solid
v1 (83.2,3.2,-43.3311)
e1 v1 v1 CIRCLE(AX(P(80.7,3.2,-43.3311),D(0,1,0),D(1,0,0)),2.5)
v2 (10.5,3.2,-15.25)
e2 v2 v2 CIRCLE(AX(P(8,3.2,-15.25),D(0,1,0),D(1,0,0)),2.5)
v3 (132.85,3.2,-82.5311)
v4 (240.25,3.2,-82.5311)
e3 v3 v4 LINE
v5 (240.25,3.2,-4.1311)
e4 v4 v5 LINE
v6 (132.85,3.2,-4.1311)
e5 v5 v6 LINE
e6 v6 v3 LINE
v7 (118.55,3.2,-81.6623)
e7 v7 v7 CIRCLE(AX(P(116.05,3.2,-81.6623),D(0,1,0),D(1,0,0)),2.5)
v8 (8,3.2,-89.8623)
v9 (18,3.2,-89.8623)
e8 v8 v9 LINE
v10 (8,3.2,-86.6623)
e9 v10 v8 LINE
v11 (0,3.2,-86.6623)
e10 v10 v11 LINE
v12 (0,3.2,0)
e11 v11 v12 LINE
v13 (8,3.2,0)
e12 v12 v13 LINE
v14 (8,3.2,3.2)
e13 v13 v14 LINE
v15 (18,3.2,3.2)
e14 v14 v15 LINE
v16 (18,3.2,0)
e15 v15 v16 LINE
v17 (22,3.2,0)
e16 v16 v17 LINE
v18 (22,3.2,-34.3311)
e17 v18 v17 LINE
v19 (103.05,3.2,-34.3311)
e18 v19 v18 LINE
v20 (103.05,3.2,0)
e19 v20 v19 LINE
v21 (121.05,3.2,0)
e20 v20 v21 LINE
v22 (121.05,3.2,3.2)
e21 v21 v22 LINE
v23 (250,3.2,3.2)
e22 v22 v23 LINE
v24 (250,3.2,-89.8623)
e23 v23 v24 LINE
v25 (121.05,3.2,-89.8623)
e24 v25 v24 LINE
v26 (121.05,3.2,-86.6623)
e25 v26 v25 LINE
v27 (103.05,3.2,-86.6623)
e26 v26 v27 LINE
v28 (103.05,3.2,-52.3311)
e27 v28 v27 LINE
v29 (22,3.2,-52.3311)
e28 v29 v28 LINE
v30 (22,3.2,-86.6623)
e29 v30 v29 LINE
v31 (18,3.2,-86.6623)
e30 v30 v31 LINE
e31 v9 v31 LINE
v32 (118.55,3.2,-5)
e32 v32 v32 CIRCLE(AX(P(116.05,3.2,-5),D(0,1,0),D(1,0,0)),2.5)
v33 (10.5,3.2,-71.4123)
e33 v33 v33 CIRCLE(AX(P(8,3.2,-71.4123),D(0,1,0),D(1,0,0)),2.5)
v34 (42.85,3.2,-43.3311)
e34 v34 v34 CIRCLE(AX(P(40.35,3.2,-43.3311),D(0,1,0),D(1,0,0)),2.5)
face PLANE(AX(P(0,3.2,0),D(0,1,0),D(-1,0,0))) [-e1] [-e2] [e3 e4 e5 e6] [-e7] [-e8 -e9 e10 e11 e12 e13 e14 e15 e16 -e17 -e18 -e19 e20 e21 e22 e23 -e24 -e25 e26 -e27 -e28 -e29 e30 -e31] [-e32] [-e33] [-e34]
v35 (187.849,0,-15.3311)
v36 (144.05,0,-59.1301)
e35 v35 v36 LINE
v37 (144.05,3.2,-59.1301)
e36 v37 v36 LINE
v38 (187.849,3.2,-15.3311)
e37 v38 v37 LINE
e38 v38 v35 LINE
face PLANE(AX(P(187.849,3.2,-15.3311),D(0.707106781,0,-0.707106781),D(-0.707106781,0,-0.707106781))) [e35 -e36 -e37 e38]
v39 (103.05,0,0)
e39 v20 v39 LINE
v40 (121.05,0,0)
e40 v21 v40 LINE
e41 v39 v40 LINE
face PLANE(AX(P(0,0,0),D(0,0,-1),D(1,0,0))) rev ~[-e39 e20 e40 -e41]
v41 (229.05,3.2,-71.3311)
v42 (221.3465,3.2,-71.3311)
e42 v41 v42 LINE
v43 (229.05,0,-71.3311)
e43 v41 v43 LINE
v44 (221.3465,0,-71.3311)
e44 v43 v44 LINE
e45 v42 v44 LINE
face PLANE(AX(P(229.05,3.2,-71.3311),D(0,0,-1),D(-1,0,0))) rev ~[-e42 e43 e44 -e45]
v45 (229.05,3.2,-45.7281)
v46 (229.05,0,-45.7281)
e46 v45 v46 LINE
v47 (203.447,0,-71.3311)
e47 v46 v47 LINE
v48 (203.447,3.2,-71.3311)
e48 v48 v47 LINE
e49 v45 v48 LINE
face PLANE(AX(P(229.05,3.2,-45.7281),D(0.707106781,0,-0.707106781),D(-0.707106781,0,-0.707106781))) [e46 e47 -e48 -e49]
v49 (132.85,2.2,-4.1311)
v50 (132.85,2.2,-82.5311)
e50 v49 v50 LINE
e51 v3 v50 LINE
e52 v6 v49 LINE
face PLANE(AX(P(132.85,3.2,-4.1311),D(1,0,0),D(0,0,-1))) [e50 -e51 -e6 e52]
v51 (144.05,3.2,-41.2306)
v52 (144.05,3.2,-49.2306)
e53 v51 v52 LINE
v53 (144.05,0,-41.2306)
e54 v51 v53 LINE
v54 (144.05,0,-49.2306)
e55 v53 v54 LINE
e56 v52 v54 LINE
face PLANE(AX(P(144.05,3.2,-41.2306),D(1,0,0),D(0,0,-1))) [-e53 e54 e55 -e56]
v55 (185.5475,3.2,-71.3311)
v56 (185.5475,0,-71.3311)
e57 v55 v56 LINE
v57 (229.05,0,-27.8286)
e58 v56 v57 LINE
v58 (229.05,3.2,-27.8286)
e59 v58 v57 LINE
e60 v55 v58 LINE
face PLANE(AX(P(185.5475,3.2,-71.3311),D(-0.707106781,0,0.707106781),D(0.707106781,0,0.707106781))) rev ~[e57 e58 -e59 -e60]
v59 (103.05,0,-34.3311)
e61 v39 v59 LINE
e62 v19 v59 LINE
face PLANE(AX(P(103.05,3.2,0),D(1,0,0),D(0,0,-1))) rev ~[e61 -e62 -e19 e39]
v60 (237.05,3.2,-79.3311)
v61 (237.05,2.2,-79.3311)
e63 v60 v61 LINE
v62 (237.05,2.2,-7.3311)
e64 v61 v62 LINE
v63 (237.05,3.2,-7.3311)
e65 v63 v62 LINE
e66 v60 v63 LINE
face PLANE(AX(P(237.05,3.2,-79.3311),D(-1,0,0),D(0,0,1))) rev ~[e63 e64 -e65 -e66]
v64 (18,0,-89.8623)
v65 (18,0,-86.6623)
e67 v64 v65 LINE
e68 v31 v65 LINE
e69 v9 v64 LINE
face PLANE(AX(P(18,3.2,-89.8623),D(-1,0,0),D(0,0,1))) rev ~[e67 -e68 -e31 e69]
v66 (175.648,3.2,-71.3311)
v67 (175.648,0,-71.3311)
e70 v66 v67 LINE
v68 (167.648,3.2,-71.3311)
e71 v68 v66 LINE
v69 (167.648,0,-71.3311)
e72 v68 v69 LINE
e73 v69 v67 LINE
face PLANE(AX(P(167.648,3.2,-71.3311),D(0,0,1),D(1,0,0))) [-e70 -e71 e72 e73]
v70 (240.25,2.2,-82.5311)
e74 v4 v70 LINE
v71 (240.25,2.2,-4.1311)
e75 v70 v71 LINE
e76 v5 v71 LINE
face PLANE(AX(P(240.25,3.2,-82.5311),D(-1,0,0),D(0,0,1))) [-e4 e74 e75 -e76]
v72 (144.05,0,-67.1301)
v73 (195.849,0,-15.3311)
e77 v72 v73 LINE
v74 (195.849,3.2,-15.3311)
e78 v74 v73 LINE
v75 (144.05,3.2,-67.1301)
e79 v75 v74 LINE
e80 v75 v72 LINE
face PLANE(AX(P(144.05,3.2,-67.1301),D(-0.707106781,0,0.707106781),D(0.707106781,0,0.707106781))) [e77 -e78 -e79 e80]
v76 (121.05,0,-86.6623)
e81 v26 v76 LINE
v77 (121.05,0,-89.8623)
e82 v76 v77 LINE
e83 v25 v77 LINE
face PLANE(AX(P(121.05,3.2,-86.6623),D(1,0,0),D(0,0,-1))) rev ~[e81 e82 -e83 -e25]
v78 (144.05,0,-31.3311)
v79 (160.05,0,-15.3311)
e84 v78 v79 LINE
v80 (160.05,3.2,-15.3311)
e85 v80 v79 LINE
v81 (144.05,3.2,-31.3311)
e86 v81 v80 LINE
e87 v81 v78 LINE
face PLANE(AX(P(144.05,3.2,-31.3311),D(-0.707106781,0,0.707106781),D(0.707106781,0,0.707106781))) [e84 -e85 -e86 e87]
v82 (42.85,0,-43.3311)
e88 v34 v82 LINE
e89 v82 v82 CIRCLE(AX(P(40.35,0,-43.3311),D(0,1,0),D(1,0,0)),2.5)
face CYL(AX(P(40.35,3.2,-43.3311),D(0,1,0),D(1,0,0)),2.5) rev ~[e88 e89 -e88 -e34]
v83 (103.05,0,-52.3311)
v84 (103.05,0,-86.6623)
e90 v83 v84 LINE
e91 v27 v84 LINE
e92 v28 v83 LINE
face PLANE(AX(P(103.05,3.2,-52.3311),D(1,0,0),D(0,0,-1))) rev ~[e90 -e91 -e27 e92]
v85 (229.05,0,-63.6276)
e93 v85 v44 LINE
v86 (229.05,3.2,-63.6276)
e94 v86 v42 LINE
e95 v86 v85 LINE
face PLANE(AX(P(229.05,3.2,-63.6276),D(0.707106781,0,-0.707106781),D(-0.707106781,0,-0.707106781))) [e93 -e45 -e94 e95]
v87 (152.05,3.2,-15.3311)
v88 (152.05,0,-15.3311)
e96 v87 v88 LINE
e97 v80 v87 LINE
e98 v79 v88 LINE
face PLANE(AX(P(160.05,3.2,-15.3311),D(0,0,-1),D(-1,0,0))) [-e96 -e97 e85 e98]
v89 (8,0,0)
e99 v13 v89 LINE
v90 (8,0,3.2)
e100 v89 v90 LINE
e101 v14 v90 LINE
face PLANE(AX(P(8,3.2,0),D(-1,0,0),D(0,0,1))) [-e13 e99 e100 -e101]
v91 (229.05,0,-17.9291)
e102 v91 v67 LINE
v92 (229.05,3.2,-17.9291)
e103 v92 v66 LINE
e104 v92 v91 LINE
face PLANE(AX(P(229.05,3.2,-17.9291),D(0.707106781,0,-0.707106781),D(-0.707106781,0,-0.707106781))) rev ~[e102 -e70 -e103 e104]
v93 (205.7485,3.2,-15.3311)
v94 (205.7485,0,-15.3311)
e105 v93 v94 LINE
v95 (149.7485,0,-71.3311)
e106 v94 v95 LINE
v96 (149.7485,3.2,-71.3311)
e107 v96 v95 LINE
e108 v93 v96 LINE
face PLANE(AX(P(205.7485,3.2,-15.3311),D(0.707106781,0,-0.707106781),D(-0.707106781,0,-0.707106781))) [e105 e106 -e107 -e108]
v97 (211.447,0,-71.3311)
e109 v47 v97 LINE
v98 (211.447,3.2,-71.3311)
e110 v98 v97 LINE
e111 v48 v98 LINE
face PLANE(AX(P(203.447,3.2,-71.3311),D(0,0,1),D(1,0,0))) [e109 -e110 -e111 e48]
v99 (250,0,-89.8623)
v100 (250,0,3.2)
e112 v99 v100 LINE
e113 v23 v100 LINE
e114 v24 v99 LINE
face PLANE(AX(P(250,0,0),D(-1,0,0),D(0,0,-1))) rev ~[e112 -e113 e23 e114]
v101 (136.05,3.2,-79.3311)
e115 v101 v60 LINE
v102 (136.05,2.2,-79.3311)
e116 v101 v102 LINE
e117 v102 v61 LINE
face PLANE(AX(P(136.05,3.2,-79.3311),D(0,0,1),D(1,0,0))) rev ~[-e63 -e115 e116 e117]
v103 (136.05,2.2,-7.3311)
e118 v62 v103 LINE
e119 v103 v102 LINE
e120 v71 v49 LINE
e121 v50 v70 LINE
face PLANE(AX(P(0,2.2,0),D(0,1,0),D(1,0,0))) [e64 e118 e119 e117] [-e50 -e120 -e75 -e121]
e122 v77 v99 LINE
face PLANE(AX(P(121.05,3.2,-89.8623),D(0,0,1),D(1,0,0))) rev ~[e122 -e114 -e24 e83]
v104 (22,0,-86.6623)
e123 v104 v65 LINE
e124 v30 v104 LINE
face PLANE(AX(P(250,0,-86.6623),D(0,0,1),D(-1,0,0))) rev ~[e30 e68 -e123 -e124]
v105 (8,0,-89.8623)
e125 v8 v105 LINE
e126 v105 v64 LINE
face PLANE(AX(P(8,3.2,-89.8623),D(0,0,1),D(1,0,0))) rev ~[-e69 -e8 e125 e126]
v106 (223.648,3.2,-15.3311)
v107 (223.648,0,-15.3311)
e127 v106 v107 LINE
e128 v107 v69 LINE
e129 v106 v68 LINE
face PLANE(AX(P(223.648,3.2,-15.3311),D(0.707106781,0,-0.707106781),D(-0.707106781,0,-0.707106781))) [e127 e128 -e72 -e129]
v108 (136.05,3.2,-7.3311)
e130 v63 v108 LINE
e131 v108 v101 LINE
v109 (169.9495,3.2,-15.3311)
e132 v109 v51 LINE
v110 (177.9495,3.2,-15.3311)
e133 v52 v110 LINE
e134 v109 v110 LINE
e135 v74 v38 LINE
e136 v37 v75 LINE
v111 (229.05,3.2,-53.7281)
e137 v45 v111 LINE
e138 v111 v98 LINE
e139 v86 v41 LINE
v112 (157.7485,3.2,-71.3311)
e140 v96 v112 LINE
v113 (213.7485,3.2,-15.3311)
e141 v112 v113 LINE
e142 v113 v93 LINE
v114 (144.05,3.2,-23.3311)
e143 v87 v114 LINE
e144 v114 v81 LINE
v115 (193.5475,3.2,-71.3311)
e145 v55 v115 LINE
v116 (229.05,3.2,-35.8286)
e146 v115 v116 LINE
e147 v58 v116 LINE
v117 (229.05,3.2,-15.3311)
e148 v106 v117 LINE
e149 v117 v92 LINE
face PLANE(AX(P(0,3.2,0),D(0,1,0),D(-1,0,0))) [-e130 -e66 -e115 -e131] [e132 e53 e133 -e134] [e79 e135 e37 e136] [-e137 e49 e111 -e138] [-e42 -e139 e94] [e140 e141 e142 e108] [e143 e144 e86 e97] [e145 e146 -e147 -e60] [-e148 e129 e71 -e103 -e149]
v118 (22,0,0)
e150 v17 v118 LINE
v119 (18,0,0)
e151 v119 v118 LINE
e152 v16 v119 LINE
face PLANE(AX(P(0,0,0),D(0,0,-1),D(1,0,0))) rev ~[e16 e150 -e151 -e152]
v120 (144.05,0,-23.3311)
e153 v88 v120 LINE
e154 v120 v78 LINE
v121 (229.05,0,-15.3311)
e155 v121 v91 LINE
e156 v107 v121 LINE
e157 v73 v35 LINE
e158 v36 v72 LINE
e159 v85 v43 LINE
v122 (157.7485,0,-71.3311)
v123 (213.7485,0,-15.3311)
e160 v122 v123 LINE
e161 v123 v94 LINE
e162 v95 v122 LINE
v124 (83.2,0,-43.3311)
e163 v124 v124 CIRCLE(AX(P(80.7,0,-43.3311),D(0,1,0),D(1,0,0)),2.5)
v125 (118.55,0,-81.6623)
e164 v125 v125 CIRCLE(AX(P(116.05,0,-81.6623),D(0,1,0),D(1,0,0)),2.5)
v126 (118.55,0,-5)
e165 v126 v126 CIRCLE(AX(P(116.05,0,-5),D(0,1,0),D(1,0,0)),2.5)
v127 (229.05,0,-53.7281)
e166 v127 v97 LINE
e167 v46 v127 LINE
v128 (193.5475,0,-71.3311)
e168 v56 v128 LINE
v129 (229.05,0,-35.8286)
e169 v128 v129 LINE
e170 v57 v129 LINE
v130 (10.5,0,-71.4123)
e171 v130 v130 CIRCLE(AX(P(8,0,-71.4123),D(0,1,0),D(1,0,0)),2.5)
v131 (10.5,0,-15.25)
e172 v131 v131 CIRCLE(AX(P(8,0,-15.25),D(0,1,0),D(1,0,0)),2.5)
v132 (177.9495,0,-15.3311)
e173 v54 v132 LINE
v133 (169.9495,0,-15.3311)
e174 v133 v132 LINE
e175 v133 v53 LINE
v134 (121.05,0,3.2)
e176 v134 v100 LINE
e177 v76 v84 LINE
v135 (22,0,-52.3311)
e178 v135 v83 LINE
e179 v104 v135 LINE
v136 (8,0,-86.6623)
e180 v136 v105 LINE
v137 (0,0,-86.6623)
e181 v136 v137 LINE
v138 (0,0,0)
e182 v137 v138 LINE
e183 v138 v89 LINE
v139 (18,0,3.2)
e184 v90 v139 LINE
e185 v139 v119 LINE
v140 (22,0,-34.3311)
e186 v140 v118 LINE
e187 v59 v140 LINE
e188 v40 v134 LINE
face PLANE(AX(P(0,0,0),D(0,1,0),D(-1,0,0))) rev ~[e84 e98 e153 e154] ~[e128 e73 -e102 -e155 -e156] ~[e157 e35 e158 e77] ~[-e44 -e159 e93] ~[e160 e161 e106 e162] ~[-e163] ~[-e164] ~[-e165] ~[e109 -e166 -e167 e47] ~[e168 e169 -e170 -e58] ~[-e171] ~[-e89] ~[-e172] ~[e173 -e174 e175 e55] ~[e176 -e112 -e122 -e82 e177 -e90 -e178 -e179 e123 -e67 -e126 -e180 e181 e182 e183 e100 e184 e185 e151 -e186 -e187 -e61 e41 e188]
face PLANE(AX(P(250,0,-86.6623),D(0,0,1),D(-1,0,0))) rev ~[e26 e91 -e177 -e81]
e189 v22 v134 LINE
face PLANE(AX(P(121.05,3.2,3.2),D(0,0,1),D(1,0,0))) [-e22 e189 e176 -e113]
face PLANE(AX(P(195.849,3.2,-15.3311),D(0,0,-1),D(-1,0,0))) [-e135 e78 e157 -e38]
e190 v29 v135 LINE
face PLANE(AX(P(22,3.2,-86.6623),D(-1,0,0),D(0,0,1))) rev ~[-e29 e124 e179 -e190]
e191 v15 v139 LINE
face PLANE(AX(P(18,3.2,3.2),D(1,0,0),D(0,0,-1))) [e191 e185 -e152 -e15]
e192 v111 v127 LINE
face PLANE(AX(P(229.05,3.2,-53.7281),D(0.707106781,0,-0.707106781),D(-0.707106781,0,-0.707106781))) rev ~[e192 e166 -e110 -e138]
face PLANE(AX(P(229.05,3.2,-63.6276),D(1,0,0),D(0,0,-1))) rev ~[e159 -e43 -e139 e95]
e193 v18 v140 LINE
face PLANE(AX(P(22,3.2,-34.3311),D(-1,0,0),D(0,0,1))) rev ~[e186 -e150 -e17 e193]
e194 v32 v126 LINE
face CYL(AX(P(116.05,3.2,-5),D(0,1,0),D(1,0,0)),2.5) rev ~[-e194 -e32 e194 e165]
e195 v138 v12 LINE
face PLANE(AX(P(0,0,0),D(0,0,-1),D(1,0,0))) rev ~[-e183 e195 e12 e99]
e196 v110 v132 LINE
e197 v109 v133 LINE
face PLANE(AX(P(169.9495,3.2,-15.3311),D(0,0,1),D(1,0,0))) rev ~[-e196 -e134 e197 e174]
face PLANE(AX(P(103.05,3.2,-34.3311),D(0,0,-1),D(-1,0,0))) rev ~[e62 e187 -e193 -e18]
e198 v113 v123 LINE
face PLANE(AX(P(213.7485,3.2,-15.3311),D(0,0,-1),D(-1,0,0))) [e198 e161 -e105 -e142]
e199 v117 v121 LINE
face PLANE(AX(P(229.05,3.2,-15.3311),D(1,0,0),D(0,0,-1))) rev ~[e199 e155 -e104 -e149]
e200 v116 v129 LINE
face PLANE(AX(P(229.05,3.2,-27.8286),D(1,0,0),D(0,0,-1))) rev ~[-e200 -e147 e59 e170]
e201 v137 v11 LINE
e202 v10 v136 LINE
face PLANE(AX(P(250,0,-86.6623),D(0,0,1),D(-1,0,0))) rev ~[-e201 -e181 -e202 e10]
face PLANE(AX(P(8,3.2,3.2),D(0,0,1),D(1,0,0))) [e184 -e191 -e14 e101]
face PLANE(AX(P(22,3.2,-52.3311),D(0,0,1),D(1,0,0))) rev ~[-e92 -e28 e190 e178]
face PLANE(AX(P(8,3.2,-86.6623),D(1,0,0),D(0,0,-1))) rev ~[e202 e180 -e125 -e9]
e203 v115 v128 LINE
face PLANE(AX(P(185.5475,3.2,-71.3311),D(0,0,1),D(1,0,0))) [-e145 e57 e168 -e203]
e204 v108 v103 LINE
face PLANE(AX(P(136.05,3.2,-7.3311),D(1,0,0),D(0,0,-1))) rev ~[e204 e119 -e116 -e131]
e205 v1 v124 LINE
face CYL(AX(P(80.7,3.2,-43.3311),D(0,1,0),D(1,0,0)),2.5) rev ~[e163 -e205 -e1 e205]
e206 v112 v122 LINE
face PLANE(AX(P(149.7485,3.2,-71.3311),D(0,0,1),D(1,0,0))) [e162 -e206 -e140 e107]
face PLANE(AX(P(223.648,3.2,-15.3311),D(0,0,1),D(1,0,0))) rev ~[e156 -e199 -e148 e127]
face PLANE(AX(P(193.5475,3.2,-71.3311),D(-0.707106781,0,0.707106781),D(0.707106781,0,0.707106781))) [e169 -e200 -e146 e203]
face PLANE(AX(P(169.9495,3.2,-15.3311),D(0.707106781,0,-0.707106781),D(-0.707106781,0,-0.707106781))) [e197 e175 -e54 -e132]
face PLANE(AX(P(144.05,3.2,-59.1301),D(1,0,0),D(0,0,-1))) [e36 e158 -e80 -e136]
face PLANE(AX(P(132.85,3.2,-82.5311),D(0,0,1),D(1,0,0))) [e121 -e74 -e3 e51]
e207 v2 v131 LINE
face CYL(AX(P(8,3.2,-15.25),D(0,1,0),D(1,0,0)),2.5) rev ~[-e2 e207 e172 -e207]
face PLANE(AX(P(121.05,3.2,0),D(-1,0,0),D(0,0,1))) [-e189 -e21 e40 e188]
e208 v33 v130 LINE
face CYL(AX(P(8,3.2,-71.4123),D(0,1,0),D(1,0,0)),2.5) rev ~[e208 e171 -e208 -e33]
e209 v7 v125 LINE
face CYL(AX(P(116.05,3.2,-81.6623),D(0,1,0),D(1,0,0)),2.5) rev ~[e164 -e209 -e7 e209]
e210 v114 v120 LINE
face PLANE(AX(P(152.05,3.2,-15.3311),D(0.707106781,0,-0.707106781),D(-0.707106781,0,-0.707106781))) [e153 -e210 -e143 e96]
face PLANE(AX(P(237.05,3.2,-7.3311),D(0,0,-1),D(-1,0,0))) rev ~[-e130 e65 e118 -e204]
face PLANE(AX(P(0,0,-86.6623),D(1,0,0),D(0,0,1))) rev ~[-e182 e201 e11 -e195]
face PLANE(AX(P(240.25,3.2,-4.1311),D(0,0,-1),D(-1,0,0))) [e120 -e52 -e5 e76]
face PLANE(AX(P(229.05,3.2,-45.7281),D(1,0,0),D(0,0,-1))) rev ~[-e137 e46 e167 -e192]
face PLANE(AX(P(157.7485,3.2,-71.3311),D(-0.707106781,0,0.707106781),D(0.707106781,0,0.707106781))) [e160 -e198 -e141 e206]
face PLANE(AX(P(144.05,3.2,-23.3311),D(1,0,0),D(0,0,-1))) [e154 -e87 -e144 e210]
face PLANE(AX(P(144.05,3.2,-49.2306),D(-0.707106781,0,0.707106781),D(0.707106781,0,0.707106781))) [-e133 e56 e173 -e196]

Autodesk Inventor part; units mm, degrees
ref_plane "YZ Plane" through (0, 0, 0) normal (1, 0, 0) x (0, 1, 0)
ref_plane "XZ Plane" through (0, 0, 0) normal (0, 1, 0) x (-1, 0, 0)
ref_plane "XY Plane" through (0, 0, 0) normal (0, 0, 1) x (1, 0, 0)
sketch "Sketch9" plane through (0, 0, 0) normal (0, 1, 0) x (-1, 0, 0)
  line L0 (0, 0) -> (-250, 0)
  line L1 (-250, 0) -> (-250, -86.6623)
  line L2 (-250, -86.6623) -> (0, -86.6623)
  line L3 (0, -86.6623) -> (0, 0)
  dimension "d59" = 86.6623
  dimension "d60" = 250
extrude "Extrusion5" add sketch "Sketch9" along normal blind 3.2
sketch "Sketch10" plane through (0, 3.2, 0) normal (0, 1, 0) x (1, 0, 0)
  line L0 (22, 0) -> (103.05, 0)
  line L1 (103.05, 0) -> (103.05, 34.3311)
  line L2 (103.05, 34.3311) -> (22, 34.3311)
  line L3 (22, 34.3311) -> (22, 0)
  line L4 (250, 86.6623) -> (0, 86.6623) projected
  line L5 (103.05, 86.6623) -> (22, 86.6623)
  line L6 (22, 86.6623) -> (22, 52.3311)
  line L7 (22, 52.3311) -> (103.05, 52.3311)
  line L8 (103.05, 52.3311) -> (103.05, 86.6623)
  line L9 (0, 0) -> (250, 0) projected
  line L10 (0, 86.6623) -> (0, 0) projected
  dimension "d63" = 22
  dimension "d64" = 34.3311
  dimension "d65" = 81.05
  dimension "d66" = 34.3311
extrude "Extrusion6" cut sketch "Sketch10" against normal blind 3.2
sketch "Sketch11" plane through (0, 3.2, 0) normal (0, 1, 0) x (1, 0, 0)
  line L0 (237.05, 7.3311) -> (136.05, 7.3311)
  line L1 (136.05, 7.3311) -> (136.05, 79.3311)
  line L2 (136.05, 79.3311) -> (237.05, 79.3311)
  line L3 (237.05, 79.3311) -> (237.05, 7.3311)
  line L4 (103.05, 86.6623) -> (103.05, 52.3311) projected
  line L5 (0, 86.6623) -> (0, 0) projected
  line L6 (103.05, 0) -> (250, 0) projected
  line L7 (121.05, 0) -> (121.05, 86.188) construction
  line L8 (103.05, 34.3311) -> (103.05, 0) projected
  line L9 (240.25, 4.1311) -> (132.85, 4.1311)
  line L10 (132.85, 4.1311) -> (132.85, 82.5311)
  line L11 (132.85, 82.5311) -> (240.25, 82.5311)
  line L12 (240.25, 82.5311) -> (240.25, 4.1311)
  dimension "d69" = 72
  dimension "d70" = 101
  dimension "d71" = 33
  dimension "d72" = 86.6623
  dimension "d73" = 7.3311
  dimension "d74" = 18
  dimension "d75" = 3.2
  dimension "d76" = 3.2
  dimension "d77" = 3.2
  dimension "d78" = 3.2
extrude "Extrusion7" cut sketch "Sketch11" against normal blind 1
sketch "Sketch12" plane through (0, 3.2, 0) normal (0, 1, 0) x (1, 0, 0)
  line L0 (237.05, 7.3311) -> (237.05, 79.3311) projected
  line L1 (237.05, 79.3311) -> (136.05, 79.3311) projected
  line L2 (136.05, 79.3311) -> (136.05, 7.3311) construction
  line L3 (136.05, 7.3311) -> (237.05, 7.3311) projected
  line L4 (144.05, 15.3311) -> (229.05, 15.3311) construction
  line L5 (229.05, 15.3311) -> (229.05, 71.3311) construction
  line L6 (229.05, 71.3311) -> (144.05, 71.3311) construction
  line L7 (144.05, 71.3311) -> (144.05, 15.3311) construction
  line L8 (152.05, 15.3311) -> (144.05, 23.3311)
  line L9 (144.05, 23.3311) -> (144.05, 31.3311)
  line L10 (144.05, 31.3311) -> (160.05, 15.3311)
  line L11 (160.05, 15.3311) -> (152.05, 15.3311)
  line L12 (169.9495, 15.3311) -> (144.05, 41.2306)
  line L13 (144.05, 41.2306) -> (144.05, 49.2306)
  line L14 (144.05, 49.2306) -> (177.9495, 15.3311)
  line L15 (169.9495, 15.3311) -> (177.9495, 15.3311)
  line L16 (187.849, 15.3311) -> (144.05, 59.1301)
  line L17 (144.05, 59.1301) -> (144.05, 67.1301)
  line L18 (144.05, 67.1301) -> (195.849, 15.3311)
  line L19 (195.849, 15.3311) -> (187.849, 15.3311)
  line L20 (213.7485, 15.3311) -> (205.7485, 15.3311)
  line L21 (157.7485, 71.3311) -> (213.7485, 15.3311)
  line L22 (223.648, 15.3311) -> (167.648, 71.3311)
  line L23 (185.5475, 71.3311) -> (193.5475, 71.3311)
  line L24 (193.5475, 71.3311) -> (229.05, 35.8286)
  line L25 (229.05, 45.7281) -> (203.447, 71.3311)
  line L26 (203.447, 71.3311) -> (211.447, 71.3311)
  line L27 (229.05, 63.6276) -> (221.3465, 71.3311)
  line L28 (229.05, 45.7281) -> (229.05, 53.7281)
  line L29 (229.05, 53.7281) -> (211.447, 71.3311)
  line L30 (205.7485, 15.3311) -> (149.7485, 71.3311)
  line L31 (149.7485, 71.3311) -> (157.7485, 71.3311)
  line L32 (185.5475, 71.3311) -> (229.05, 27.8286)
  line L33 (229.05, 27.8286) -> (229.05, 35.8286)
  line L34 (223.648, 15.3311) -> (229.05, 15.3311)
  line L35 (229.05, 15.3311) -> (229.05, 17.9291)
  line L36 (229.05, 17.9291) -> (175.648, 71.3311)
  line L37 (167.648, 71.3311) -> (175.648, 71.3311)
  line L38 (229.05, 63.6276) -> (229.05, 71.3311)
  line L39 (229.05, 71.3311) -> (221.3465, 71.3311)
  point P0 (0, 0)
  dimension "d81" = 8
  dimension "d82" = 8
  dimension "d83" = 8
  dimension "d84" = 8
  dimension "d85" = 8
  dimension "d86" = 8
  dimension "d88" = 7
  dimension "d90" = 7
  dimension "d92" = 7
  dimension "d95" = 7
  dimension "d97" = 7
  dimension "d98" = 7
  dimension "d100" = 7
extrude "Extrusion8" cut sketch "Sketch12" against normal up to surface (3.2 mm away)
sketch "Sketch13" plane through (0, 3.2, 0) normal (0, 1, 0) x (1, 0, 0)
  circle A0 centre (116.05, 5) radius 2.5
  circle A1 centre (116.05, 81.6623) radius 2.5
  circle A2 centre (40.35, 43.3311) radius 2.5
  circle A3 centre (80.7, 43.3311) radius 2.5
  line L0 (0, 86.6623) -> (0, 0) projected
  line L1 (103.05, 0) -> (250, 0) projected
  line L2 (103.05, 34.3311) -> (103.05, 0) projected
  line L3 (250, 86.6623) -> (103.05, 86.6623) projected
  circle A4 centre (8, 15.25) radius 2.5
  circle A5 centre (8, 71.4123) radius 2.5
  line L4 (0, 0) -> (22, 0) projected
  line L5 (22, 86.6623) -> (0, 86.6623) projected
  point P0 (0, 43.3311)
  dimension "d103" = 40.35
  dimension "d104" = 40.35
  dimension "d105" = 5
  dimension "d106" = 5
  dimension "d107" = 13
  dimension "d108" = 5
  dimension "d109" = 15.25
  dimension "d110" = 15.25
  dimension "d111" = 8
extrude "Extrusion9" cut sketch "Sketch13" against normal up to surface (3.2 mm away)
sketch "Sketch14" plane through (0, 3.2, 0) normal (0, 1, 0) x (1, 0, 0)
  line L0 (250, 0) -> (250, 86.6623) projected
  line L1 (103.05, 34.3311) -> (103.05, 0) projected
  point P0 (0, 0)
  dimension "largo_abdomen_robot" = 146.95
sketch "Sketch15" plane through (0, 3.2, 0) normal (0, 1, 0) x (1, 0, 0)
  line L0 (250, 0) -> (250, 86.6623) projected
  line L1 (250, 86.6623) -> (121.05, 86.6623)
  line L2 (121.05, 86.6623) -> (121.05, 89.8623)
  line L3 (121.05, 89.8623) -> (250, 89.8623)
  line L4 (250, 89.8623) -> (250, 86.6623)
  line L5 (250, 0) -> (121.05, 0)
  line L6 (121.05, 0) -> (121.05, -3.2)
  line L7 (121.05, -3.2) -> (250, -3.2)
  line L8 (250, -3.2) -> (250, 0)
  point P0 (0, 0)
  dimension "d115" = 128.95
  dimension "d116" = 3.2
extrude "Extrusion10" add sketch "Sketch15" against normal up to surface (3.2 mm away)
sketch "Sketch16" plane through (0, 3.2, 0) normal (0, 1, 0) x (1, 0, 0)
  line L0 (0, 0) -> (22, 0) projected
  line L1 (18, 0) -> (8, 0)
  line L2 (8, 0) -> (8, -3.2)
  line L3 (8, -3.2) -> (18, -3.2)
  line L4 (18, -3.2) -> (18, 0)
  line L5 (18, 86.6623) -> (8, 86.6623)
  line L6 (8, 86.6623) -> (8, 89.8623)
  line L7 (8, 89.8623) -> (18, 89.8623)
  line L8 (18, 89.8623) -> (18, 86.6623)
  line L9 (22, 86.6623) -> (0, 86.6623) projected
  line L10 (22, 0) -> (22, 34.3311) projected
  dimension "d119" = 4
  dimension "d120" = 10
  dimension "d121" = 3.2
extrude "Extrusion11" add sketch "Sketch16" against normal up to surface (3.2 mm away)
equation "\"d59\" = ancho_acople_hombros"
equation "\"d63\" = acople_hombro_grosor_frontal"
equation "\"d64\" = acople_hombro_ancho_agujero"
equation "\"d65\" = acople_hombro_largo_agujero"
equation "\"d66\" = acople_hombro_ancho_agujero"
equation "\"d73\" = -0.5 * d69 + 0.5 * d72"
equation "\"d74\" = acople_hombro_grosor_trasero"
equation "\"d76\" = d75"
equation "\"d77\" = d76"
equation "\"d78\" = d75"
equation "\"d82\" = d81"
equation "\"d83\" = d81"
equation "\"d84\" = d81"
equation "\"d86\" = d85"
equation "\"d88\" = d95"
equation "\"d90\" = d95"
equation "\"d92\" = d91"
equation "\"d97\" = d92"
equation "\"d98\" = d95"
equation "\"d100\" = d95"
equation "\"d103\" = dist_agujero_central_a_frente"
equation "\"d104\" = d103"
equation "\"d105\" = diametro_tornillo"
equation "\"d106\" = dist_agujero_trasero_a_lado"
equation "\"d107\" = dist_agujero_trasero_a_frente"
equation "\"d108\" = d106"
equation "\"d109\" = dist_agujero_frontal_a_lateral"
equation "\"d110\" = d109"
equation "\"d111\" = dist_agujero_frontal_a_frente"
equation "\"d115\" = largo_abdomen_robot - acople_hombro_grosor_trasero"
equation "\"d91\" = d90"
equation "\"ancho_acople_hombros\" = 86.662258"
equation "\"acople_hombro_grosor_frontal\" = 22"
equation "\"acople_hombro_ancho_agujero\" = 34.331129"
equation "\"acople_hombro_largo_agujero\" = 81.05"
equation "\"acople_hombro_grosor_trasero\" = 18"
equation "\"dist_agujero_central_a_frente\" = 40.35"
equation "\"diametro_tornillo\" = 5"
equation "\"dist_agujero_trasero_a_lado\" = 5"
equation "\"dist_agujero_trasero_a_frente\" = 13"
equation "\"dist_agujero_frontal_a_lateral\" = 15.25"
equation "\"dist_agujero_frontal_a_frente\" = 8"
properties part number "cuerpo-base-bateria"
